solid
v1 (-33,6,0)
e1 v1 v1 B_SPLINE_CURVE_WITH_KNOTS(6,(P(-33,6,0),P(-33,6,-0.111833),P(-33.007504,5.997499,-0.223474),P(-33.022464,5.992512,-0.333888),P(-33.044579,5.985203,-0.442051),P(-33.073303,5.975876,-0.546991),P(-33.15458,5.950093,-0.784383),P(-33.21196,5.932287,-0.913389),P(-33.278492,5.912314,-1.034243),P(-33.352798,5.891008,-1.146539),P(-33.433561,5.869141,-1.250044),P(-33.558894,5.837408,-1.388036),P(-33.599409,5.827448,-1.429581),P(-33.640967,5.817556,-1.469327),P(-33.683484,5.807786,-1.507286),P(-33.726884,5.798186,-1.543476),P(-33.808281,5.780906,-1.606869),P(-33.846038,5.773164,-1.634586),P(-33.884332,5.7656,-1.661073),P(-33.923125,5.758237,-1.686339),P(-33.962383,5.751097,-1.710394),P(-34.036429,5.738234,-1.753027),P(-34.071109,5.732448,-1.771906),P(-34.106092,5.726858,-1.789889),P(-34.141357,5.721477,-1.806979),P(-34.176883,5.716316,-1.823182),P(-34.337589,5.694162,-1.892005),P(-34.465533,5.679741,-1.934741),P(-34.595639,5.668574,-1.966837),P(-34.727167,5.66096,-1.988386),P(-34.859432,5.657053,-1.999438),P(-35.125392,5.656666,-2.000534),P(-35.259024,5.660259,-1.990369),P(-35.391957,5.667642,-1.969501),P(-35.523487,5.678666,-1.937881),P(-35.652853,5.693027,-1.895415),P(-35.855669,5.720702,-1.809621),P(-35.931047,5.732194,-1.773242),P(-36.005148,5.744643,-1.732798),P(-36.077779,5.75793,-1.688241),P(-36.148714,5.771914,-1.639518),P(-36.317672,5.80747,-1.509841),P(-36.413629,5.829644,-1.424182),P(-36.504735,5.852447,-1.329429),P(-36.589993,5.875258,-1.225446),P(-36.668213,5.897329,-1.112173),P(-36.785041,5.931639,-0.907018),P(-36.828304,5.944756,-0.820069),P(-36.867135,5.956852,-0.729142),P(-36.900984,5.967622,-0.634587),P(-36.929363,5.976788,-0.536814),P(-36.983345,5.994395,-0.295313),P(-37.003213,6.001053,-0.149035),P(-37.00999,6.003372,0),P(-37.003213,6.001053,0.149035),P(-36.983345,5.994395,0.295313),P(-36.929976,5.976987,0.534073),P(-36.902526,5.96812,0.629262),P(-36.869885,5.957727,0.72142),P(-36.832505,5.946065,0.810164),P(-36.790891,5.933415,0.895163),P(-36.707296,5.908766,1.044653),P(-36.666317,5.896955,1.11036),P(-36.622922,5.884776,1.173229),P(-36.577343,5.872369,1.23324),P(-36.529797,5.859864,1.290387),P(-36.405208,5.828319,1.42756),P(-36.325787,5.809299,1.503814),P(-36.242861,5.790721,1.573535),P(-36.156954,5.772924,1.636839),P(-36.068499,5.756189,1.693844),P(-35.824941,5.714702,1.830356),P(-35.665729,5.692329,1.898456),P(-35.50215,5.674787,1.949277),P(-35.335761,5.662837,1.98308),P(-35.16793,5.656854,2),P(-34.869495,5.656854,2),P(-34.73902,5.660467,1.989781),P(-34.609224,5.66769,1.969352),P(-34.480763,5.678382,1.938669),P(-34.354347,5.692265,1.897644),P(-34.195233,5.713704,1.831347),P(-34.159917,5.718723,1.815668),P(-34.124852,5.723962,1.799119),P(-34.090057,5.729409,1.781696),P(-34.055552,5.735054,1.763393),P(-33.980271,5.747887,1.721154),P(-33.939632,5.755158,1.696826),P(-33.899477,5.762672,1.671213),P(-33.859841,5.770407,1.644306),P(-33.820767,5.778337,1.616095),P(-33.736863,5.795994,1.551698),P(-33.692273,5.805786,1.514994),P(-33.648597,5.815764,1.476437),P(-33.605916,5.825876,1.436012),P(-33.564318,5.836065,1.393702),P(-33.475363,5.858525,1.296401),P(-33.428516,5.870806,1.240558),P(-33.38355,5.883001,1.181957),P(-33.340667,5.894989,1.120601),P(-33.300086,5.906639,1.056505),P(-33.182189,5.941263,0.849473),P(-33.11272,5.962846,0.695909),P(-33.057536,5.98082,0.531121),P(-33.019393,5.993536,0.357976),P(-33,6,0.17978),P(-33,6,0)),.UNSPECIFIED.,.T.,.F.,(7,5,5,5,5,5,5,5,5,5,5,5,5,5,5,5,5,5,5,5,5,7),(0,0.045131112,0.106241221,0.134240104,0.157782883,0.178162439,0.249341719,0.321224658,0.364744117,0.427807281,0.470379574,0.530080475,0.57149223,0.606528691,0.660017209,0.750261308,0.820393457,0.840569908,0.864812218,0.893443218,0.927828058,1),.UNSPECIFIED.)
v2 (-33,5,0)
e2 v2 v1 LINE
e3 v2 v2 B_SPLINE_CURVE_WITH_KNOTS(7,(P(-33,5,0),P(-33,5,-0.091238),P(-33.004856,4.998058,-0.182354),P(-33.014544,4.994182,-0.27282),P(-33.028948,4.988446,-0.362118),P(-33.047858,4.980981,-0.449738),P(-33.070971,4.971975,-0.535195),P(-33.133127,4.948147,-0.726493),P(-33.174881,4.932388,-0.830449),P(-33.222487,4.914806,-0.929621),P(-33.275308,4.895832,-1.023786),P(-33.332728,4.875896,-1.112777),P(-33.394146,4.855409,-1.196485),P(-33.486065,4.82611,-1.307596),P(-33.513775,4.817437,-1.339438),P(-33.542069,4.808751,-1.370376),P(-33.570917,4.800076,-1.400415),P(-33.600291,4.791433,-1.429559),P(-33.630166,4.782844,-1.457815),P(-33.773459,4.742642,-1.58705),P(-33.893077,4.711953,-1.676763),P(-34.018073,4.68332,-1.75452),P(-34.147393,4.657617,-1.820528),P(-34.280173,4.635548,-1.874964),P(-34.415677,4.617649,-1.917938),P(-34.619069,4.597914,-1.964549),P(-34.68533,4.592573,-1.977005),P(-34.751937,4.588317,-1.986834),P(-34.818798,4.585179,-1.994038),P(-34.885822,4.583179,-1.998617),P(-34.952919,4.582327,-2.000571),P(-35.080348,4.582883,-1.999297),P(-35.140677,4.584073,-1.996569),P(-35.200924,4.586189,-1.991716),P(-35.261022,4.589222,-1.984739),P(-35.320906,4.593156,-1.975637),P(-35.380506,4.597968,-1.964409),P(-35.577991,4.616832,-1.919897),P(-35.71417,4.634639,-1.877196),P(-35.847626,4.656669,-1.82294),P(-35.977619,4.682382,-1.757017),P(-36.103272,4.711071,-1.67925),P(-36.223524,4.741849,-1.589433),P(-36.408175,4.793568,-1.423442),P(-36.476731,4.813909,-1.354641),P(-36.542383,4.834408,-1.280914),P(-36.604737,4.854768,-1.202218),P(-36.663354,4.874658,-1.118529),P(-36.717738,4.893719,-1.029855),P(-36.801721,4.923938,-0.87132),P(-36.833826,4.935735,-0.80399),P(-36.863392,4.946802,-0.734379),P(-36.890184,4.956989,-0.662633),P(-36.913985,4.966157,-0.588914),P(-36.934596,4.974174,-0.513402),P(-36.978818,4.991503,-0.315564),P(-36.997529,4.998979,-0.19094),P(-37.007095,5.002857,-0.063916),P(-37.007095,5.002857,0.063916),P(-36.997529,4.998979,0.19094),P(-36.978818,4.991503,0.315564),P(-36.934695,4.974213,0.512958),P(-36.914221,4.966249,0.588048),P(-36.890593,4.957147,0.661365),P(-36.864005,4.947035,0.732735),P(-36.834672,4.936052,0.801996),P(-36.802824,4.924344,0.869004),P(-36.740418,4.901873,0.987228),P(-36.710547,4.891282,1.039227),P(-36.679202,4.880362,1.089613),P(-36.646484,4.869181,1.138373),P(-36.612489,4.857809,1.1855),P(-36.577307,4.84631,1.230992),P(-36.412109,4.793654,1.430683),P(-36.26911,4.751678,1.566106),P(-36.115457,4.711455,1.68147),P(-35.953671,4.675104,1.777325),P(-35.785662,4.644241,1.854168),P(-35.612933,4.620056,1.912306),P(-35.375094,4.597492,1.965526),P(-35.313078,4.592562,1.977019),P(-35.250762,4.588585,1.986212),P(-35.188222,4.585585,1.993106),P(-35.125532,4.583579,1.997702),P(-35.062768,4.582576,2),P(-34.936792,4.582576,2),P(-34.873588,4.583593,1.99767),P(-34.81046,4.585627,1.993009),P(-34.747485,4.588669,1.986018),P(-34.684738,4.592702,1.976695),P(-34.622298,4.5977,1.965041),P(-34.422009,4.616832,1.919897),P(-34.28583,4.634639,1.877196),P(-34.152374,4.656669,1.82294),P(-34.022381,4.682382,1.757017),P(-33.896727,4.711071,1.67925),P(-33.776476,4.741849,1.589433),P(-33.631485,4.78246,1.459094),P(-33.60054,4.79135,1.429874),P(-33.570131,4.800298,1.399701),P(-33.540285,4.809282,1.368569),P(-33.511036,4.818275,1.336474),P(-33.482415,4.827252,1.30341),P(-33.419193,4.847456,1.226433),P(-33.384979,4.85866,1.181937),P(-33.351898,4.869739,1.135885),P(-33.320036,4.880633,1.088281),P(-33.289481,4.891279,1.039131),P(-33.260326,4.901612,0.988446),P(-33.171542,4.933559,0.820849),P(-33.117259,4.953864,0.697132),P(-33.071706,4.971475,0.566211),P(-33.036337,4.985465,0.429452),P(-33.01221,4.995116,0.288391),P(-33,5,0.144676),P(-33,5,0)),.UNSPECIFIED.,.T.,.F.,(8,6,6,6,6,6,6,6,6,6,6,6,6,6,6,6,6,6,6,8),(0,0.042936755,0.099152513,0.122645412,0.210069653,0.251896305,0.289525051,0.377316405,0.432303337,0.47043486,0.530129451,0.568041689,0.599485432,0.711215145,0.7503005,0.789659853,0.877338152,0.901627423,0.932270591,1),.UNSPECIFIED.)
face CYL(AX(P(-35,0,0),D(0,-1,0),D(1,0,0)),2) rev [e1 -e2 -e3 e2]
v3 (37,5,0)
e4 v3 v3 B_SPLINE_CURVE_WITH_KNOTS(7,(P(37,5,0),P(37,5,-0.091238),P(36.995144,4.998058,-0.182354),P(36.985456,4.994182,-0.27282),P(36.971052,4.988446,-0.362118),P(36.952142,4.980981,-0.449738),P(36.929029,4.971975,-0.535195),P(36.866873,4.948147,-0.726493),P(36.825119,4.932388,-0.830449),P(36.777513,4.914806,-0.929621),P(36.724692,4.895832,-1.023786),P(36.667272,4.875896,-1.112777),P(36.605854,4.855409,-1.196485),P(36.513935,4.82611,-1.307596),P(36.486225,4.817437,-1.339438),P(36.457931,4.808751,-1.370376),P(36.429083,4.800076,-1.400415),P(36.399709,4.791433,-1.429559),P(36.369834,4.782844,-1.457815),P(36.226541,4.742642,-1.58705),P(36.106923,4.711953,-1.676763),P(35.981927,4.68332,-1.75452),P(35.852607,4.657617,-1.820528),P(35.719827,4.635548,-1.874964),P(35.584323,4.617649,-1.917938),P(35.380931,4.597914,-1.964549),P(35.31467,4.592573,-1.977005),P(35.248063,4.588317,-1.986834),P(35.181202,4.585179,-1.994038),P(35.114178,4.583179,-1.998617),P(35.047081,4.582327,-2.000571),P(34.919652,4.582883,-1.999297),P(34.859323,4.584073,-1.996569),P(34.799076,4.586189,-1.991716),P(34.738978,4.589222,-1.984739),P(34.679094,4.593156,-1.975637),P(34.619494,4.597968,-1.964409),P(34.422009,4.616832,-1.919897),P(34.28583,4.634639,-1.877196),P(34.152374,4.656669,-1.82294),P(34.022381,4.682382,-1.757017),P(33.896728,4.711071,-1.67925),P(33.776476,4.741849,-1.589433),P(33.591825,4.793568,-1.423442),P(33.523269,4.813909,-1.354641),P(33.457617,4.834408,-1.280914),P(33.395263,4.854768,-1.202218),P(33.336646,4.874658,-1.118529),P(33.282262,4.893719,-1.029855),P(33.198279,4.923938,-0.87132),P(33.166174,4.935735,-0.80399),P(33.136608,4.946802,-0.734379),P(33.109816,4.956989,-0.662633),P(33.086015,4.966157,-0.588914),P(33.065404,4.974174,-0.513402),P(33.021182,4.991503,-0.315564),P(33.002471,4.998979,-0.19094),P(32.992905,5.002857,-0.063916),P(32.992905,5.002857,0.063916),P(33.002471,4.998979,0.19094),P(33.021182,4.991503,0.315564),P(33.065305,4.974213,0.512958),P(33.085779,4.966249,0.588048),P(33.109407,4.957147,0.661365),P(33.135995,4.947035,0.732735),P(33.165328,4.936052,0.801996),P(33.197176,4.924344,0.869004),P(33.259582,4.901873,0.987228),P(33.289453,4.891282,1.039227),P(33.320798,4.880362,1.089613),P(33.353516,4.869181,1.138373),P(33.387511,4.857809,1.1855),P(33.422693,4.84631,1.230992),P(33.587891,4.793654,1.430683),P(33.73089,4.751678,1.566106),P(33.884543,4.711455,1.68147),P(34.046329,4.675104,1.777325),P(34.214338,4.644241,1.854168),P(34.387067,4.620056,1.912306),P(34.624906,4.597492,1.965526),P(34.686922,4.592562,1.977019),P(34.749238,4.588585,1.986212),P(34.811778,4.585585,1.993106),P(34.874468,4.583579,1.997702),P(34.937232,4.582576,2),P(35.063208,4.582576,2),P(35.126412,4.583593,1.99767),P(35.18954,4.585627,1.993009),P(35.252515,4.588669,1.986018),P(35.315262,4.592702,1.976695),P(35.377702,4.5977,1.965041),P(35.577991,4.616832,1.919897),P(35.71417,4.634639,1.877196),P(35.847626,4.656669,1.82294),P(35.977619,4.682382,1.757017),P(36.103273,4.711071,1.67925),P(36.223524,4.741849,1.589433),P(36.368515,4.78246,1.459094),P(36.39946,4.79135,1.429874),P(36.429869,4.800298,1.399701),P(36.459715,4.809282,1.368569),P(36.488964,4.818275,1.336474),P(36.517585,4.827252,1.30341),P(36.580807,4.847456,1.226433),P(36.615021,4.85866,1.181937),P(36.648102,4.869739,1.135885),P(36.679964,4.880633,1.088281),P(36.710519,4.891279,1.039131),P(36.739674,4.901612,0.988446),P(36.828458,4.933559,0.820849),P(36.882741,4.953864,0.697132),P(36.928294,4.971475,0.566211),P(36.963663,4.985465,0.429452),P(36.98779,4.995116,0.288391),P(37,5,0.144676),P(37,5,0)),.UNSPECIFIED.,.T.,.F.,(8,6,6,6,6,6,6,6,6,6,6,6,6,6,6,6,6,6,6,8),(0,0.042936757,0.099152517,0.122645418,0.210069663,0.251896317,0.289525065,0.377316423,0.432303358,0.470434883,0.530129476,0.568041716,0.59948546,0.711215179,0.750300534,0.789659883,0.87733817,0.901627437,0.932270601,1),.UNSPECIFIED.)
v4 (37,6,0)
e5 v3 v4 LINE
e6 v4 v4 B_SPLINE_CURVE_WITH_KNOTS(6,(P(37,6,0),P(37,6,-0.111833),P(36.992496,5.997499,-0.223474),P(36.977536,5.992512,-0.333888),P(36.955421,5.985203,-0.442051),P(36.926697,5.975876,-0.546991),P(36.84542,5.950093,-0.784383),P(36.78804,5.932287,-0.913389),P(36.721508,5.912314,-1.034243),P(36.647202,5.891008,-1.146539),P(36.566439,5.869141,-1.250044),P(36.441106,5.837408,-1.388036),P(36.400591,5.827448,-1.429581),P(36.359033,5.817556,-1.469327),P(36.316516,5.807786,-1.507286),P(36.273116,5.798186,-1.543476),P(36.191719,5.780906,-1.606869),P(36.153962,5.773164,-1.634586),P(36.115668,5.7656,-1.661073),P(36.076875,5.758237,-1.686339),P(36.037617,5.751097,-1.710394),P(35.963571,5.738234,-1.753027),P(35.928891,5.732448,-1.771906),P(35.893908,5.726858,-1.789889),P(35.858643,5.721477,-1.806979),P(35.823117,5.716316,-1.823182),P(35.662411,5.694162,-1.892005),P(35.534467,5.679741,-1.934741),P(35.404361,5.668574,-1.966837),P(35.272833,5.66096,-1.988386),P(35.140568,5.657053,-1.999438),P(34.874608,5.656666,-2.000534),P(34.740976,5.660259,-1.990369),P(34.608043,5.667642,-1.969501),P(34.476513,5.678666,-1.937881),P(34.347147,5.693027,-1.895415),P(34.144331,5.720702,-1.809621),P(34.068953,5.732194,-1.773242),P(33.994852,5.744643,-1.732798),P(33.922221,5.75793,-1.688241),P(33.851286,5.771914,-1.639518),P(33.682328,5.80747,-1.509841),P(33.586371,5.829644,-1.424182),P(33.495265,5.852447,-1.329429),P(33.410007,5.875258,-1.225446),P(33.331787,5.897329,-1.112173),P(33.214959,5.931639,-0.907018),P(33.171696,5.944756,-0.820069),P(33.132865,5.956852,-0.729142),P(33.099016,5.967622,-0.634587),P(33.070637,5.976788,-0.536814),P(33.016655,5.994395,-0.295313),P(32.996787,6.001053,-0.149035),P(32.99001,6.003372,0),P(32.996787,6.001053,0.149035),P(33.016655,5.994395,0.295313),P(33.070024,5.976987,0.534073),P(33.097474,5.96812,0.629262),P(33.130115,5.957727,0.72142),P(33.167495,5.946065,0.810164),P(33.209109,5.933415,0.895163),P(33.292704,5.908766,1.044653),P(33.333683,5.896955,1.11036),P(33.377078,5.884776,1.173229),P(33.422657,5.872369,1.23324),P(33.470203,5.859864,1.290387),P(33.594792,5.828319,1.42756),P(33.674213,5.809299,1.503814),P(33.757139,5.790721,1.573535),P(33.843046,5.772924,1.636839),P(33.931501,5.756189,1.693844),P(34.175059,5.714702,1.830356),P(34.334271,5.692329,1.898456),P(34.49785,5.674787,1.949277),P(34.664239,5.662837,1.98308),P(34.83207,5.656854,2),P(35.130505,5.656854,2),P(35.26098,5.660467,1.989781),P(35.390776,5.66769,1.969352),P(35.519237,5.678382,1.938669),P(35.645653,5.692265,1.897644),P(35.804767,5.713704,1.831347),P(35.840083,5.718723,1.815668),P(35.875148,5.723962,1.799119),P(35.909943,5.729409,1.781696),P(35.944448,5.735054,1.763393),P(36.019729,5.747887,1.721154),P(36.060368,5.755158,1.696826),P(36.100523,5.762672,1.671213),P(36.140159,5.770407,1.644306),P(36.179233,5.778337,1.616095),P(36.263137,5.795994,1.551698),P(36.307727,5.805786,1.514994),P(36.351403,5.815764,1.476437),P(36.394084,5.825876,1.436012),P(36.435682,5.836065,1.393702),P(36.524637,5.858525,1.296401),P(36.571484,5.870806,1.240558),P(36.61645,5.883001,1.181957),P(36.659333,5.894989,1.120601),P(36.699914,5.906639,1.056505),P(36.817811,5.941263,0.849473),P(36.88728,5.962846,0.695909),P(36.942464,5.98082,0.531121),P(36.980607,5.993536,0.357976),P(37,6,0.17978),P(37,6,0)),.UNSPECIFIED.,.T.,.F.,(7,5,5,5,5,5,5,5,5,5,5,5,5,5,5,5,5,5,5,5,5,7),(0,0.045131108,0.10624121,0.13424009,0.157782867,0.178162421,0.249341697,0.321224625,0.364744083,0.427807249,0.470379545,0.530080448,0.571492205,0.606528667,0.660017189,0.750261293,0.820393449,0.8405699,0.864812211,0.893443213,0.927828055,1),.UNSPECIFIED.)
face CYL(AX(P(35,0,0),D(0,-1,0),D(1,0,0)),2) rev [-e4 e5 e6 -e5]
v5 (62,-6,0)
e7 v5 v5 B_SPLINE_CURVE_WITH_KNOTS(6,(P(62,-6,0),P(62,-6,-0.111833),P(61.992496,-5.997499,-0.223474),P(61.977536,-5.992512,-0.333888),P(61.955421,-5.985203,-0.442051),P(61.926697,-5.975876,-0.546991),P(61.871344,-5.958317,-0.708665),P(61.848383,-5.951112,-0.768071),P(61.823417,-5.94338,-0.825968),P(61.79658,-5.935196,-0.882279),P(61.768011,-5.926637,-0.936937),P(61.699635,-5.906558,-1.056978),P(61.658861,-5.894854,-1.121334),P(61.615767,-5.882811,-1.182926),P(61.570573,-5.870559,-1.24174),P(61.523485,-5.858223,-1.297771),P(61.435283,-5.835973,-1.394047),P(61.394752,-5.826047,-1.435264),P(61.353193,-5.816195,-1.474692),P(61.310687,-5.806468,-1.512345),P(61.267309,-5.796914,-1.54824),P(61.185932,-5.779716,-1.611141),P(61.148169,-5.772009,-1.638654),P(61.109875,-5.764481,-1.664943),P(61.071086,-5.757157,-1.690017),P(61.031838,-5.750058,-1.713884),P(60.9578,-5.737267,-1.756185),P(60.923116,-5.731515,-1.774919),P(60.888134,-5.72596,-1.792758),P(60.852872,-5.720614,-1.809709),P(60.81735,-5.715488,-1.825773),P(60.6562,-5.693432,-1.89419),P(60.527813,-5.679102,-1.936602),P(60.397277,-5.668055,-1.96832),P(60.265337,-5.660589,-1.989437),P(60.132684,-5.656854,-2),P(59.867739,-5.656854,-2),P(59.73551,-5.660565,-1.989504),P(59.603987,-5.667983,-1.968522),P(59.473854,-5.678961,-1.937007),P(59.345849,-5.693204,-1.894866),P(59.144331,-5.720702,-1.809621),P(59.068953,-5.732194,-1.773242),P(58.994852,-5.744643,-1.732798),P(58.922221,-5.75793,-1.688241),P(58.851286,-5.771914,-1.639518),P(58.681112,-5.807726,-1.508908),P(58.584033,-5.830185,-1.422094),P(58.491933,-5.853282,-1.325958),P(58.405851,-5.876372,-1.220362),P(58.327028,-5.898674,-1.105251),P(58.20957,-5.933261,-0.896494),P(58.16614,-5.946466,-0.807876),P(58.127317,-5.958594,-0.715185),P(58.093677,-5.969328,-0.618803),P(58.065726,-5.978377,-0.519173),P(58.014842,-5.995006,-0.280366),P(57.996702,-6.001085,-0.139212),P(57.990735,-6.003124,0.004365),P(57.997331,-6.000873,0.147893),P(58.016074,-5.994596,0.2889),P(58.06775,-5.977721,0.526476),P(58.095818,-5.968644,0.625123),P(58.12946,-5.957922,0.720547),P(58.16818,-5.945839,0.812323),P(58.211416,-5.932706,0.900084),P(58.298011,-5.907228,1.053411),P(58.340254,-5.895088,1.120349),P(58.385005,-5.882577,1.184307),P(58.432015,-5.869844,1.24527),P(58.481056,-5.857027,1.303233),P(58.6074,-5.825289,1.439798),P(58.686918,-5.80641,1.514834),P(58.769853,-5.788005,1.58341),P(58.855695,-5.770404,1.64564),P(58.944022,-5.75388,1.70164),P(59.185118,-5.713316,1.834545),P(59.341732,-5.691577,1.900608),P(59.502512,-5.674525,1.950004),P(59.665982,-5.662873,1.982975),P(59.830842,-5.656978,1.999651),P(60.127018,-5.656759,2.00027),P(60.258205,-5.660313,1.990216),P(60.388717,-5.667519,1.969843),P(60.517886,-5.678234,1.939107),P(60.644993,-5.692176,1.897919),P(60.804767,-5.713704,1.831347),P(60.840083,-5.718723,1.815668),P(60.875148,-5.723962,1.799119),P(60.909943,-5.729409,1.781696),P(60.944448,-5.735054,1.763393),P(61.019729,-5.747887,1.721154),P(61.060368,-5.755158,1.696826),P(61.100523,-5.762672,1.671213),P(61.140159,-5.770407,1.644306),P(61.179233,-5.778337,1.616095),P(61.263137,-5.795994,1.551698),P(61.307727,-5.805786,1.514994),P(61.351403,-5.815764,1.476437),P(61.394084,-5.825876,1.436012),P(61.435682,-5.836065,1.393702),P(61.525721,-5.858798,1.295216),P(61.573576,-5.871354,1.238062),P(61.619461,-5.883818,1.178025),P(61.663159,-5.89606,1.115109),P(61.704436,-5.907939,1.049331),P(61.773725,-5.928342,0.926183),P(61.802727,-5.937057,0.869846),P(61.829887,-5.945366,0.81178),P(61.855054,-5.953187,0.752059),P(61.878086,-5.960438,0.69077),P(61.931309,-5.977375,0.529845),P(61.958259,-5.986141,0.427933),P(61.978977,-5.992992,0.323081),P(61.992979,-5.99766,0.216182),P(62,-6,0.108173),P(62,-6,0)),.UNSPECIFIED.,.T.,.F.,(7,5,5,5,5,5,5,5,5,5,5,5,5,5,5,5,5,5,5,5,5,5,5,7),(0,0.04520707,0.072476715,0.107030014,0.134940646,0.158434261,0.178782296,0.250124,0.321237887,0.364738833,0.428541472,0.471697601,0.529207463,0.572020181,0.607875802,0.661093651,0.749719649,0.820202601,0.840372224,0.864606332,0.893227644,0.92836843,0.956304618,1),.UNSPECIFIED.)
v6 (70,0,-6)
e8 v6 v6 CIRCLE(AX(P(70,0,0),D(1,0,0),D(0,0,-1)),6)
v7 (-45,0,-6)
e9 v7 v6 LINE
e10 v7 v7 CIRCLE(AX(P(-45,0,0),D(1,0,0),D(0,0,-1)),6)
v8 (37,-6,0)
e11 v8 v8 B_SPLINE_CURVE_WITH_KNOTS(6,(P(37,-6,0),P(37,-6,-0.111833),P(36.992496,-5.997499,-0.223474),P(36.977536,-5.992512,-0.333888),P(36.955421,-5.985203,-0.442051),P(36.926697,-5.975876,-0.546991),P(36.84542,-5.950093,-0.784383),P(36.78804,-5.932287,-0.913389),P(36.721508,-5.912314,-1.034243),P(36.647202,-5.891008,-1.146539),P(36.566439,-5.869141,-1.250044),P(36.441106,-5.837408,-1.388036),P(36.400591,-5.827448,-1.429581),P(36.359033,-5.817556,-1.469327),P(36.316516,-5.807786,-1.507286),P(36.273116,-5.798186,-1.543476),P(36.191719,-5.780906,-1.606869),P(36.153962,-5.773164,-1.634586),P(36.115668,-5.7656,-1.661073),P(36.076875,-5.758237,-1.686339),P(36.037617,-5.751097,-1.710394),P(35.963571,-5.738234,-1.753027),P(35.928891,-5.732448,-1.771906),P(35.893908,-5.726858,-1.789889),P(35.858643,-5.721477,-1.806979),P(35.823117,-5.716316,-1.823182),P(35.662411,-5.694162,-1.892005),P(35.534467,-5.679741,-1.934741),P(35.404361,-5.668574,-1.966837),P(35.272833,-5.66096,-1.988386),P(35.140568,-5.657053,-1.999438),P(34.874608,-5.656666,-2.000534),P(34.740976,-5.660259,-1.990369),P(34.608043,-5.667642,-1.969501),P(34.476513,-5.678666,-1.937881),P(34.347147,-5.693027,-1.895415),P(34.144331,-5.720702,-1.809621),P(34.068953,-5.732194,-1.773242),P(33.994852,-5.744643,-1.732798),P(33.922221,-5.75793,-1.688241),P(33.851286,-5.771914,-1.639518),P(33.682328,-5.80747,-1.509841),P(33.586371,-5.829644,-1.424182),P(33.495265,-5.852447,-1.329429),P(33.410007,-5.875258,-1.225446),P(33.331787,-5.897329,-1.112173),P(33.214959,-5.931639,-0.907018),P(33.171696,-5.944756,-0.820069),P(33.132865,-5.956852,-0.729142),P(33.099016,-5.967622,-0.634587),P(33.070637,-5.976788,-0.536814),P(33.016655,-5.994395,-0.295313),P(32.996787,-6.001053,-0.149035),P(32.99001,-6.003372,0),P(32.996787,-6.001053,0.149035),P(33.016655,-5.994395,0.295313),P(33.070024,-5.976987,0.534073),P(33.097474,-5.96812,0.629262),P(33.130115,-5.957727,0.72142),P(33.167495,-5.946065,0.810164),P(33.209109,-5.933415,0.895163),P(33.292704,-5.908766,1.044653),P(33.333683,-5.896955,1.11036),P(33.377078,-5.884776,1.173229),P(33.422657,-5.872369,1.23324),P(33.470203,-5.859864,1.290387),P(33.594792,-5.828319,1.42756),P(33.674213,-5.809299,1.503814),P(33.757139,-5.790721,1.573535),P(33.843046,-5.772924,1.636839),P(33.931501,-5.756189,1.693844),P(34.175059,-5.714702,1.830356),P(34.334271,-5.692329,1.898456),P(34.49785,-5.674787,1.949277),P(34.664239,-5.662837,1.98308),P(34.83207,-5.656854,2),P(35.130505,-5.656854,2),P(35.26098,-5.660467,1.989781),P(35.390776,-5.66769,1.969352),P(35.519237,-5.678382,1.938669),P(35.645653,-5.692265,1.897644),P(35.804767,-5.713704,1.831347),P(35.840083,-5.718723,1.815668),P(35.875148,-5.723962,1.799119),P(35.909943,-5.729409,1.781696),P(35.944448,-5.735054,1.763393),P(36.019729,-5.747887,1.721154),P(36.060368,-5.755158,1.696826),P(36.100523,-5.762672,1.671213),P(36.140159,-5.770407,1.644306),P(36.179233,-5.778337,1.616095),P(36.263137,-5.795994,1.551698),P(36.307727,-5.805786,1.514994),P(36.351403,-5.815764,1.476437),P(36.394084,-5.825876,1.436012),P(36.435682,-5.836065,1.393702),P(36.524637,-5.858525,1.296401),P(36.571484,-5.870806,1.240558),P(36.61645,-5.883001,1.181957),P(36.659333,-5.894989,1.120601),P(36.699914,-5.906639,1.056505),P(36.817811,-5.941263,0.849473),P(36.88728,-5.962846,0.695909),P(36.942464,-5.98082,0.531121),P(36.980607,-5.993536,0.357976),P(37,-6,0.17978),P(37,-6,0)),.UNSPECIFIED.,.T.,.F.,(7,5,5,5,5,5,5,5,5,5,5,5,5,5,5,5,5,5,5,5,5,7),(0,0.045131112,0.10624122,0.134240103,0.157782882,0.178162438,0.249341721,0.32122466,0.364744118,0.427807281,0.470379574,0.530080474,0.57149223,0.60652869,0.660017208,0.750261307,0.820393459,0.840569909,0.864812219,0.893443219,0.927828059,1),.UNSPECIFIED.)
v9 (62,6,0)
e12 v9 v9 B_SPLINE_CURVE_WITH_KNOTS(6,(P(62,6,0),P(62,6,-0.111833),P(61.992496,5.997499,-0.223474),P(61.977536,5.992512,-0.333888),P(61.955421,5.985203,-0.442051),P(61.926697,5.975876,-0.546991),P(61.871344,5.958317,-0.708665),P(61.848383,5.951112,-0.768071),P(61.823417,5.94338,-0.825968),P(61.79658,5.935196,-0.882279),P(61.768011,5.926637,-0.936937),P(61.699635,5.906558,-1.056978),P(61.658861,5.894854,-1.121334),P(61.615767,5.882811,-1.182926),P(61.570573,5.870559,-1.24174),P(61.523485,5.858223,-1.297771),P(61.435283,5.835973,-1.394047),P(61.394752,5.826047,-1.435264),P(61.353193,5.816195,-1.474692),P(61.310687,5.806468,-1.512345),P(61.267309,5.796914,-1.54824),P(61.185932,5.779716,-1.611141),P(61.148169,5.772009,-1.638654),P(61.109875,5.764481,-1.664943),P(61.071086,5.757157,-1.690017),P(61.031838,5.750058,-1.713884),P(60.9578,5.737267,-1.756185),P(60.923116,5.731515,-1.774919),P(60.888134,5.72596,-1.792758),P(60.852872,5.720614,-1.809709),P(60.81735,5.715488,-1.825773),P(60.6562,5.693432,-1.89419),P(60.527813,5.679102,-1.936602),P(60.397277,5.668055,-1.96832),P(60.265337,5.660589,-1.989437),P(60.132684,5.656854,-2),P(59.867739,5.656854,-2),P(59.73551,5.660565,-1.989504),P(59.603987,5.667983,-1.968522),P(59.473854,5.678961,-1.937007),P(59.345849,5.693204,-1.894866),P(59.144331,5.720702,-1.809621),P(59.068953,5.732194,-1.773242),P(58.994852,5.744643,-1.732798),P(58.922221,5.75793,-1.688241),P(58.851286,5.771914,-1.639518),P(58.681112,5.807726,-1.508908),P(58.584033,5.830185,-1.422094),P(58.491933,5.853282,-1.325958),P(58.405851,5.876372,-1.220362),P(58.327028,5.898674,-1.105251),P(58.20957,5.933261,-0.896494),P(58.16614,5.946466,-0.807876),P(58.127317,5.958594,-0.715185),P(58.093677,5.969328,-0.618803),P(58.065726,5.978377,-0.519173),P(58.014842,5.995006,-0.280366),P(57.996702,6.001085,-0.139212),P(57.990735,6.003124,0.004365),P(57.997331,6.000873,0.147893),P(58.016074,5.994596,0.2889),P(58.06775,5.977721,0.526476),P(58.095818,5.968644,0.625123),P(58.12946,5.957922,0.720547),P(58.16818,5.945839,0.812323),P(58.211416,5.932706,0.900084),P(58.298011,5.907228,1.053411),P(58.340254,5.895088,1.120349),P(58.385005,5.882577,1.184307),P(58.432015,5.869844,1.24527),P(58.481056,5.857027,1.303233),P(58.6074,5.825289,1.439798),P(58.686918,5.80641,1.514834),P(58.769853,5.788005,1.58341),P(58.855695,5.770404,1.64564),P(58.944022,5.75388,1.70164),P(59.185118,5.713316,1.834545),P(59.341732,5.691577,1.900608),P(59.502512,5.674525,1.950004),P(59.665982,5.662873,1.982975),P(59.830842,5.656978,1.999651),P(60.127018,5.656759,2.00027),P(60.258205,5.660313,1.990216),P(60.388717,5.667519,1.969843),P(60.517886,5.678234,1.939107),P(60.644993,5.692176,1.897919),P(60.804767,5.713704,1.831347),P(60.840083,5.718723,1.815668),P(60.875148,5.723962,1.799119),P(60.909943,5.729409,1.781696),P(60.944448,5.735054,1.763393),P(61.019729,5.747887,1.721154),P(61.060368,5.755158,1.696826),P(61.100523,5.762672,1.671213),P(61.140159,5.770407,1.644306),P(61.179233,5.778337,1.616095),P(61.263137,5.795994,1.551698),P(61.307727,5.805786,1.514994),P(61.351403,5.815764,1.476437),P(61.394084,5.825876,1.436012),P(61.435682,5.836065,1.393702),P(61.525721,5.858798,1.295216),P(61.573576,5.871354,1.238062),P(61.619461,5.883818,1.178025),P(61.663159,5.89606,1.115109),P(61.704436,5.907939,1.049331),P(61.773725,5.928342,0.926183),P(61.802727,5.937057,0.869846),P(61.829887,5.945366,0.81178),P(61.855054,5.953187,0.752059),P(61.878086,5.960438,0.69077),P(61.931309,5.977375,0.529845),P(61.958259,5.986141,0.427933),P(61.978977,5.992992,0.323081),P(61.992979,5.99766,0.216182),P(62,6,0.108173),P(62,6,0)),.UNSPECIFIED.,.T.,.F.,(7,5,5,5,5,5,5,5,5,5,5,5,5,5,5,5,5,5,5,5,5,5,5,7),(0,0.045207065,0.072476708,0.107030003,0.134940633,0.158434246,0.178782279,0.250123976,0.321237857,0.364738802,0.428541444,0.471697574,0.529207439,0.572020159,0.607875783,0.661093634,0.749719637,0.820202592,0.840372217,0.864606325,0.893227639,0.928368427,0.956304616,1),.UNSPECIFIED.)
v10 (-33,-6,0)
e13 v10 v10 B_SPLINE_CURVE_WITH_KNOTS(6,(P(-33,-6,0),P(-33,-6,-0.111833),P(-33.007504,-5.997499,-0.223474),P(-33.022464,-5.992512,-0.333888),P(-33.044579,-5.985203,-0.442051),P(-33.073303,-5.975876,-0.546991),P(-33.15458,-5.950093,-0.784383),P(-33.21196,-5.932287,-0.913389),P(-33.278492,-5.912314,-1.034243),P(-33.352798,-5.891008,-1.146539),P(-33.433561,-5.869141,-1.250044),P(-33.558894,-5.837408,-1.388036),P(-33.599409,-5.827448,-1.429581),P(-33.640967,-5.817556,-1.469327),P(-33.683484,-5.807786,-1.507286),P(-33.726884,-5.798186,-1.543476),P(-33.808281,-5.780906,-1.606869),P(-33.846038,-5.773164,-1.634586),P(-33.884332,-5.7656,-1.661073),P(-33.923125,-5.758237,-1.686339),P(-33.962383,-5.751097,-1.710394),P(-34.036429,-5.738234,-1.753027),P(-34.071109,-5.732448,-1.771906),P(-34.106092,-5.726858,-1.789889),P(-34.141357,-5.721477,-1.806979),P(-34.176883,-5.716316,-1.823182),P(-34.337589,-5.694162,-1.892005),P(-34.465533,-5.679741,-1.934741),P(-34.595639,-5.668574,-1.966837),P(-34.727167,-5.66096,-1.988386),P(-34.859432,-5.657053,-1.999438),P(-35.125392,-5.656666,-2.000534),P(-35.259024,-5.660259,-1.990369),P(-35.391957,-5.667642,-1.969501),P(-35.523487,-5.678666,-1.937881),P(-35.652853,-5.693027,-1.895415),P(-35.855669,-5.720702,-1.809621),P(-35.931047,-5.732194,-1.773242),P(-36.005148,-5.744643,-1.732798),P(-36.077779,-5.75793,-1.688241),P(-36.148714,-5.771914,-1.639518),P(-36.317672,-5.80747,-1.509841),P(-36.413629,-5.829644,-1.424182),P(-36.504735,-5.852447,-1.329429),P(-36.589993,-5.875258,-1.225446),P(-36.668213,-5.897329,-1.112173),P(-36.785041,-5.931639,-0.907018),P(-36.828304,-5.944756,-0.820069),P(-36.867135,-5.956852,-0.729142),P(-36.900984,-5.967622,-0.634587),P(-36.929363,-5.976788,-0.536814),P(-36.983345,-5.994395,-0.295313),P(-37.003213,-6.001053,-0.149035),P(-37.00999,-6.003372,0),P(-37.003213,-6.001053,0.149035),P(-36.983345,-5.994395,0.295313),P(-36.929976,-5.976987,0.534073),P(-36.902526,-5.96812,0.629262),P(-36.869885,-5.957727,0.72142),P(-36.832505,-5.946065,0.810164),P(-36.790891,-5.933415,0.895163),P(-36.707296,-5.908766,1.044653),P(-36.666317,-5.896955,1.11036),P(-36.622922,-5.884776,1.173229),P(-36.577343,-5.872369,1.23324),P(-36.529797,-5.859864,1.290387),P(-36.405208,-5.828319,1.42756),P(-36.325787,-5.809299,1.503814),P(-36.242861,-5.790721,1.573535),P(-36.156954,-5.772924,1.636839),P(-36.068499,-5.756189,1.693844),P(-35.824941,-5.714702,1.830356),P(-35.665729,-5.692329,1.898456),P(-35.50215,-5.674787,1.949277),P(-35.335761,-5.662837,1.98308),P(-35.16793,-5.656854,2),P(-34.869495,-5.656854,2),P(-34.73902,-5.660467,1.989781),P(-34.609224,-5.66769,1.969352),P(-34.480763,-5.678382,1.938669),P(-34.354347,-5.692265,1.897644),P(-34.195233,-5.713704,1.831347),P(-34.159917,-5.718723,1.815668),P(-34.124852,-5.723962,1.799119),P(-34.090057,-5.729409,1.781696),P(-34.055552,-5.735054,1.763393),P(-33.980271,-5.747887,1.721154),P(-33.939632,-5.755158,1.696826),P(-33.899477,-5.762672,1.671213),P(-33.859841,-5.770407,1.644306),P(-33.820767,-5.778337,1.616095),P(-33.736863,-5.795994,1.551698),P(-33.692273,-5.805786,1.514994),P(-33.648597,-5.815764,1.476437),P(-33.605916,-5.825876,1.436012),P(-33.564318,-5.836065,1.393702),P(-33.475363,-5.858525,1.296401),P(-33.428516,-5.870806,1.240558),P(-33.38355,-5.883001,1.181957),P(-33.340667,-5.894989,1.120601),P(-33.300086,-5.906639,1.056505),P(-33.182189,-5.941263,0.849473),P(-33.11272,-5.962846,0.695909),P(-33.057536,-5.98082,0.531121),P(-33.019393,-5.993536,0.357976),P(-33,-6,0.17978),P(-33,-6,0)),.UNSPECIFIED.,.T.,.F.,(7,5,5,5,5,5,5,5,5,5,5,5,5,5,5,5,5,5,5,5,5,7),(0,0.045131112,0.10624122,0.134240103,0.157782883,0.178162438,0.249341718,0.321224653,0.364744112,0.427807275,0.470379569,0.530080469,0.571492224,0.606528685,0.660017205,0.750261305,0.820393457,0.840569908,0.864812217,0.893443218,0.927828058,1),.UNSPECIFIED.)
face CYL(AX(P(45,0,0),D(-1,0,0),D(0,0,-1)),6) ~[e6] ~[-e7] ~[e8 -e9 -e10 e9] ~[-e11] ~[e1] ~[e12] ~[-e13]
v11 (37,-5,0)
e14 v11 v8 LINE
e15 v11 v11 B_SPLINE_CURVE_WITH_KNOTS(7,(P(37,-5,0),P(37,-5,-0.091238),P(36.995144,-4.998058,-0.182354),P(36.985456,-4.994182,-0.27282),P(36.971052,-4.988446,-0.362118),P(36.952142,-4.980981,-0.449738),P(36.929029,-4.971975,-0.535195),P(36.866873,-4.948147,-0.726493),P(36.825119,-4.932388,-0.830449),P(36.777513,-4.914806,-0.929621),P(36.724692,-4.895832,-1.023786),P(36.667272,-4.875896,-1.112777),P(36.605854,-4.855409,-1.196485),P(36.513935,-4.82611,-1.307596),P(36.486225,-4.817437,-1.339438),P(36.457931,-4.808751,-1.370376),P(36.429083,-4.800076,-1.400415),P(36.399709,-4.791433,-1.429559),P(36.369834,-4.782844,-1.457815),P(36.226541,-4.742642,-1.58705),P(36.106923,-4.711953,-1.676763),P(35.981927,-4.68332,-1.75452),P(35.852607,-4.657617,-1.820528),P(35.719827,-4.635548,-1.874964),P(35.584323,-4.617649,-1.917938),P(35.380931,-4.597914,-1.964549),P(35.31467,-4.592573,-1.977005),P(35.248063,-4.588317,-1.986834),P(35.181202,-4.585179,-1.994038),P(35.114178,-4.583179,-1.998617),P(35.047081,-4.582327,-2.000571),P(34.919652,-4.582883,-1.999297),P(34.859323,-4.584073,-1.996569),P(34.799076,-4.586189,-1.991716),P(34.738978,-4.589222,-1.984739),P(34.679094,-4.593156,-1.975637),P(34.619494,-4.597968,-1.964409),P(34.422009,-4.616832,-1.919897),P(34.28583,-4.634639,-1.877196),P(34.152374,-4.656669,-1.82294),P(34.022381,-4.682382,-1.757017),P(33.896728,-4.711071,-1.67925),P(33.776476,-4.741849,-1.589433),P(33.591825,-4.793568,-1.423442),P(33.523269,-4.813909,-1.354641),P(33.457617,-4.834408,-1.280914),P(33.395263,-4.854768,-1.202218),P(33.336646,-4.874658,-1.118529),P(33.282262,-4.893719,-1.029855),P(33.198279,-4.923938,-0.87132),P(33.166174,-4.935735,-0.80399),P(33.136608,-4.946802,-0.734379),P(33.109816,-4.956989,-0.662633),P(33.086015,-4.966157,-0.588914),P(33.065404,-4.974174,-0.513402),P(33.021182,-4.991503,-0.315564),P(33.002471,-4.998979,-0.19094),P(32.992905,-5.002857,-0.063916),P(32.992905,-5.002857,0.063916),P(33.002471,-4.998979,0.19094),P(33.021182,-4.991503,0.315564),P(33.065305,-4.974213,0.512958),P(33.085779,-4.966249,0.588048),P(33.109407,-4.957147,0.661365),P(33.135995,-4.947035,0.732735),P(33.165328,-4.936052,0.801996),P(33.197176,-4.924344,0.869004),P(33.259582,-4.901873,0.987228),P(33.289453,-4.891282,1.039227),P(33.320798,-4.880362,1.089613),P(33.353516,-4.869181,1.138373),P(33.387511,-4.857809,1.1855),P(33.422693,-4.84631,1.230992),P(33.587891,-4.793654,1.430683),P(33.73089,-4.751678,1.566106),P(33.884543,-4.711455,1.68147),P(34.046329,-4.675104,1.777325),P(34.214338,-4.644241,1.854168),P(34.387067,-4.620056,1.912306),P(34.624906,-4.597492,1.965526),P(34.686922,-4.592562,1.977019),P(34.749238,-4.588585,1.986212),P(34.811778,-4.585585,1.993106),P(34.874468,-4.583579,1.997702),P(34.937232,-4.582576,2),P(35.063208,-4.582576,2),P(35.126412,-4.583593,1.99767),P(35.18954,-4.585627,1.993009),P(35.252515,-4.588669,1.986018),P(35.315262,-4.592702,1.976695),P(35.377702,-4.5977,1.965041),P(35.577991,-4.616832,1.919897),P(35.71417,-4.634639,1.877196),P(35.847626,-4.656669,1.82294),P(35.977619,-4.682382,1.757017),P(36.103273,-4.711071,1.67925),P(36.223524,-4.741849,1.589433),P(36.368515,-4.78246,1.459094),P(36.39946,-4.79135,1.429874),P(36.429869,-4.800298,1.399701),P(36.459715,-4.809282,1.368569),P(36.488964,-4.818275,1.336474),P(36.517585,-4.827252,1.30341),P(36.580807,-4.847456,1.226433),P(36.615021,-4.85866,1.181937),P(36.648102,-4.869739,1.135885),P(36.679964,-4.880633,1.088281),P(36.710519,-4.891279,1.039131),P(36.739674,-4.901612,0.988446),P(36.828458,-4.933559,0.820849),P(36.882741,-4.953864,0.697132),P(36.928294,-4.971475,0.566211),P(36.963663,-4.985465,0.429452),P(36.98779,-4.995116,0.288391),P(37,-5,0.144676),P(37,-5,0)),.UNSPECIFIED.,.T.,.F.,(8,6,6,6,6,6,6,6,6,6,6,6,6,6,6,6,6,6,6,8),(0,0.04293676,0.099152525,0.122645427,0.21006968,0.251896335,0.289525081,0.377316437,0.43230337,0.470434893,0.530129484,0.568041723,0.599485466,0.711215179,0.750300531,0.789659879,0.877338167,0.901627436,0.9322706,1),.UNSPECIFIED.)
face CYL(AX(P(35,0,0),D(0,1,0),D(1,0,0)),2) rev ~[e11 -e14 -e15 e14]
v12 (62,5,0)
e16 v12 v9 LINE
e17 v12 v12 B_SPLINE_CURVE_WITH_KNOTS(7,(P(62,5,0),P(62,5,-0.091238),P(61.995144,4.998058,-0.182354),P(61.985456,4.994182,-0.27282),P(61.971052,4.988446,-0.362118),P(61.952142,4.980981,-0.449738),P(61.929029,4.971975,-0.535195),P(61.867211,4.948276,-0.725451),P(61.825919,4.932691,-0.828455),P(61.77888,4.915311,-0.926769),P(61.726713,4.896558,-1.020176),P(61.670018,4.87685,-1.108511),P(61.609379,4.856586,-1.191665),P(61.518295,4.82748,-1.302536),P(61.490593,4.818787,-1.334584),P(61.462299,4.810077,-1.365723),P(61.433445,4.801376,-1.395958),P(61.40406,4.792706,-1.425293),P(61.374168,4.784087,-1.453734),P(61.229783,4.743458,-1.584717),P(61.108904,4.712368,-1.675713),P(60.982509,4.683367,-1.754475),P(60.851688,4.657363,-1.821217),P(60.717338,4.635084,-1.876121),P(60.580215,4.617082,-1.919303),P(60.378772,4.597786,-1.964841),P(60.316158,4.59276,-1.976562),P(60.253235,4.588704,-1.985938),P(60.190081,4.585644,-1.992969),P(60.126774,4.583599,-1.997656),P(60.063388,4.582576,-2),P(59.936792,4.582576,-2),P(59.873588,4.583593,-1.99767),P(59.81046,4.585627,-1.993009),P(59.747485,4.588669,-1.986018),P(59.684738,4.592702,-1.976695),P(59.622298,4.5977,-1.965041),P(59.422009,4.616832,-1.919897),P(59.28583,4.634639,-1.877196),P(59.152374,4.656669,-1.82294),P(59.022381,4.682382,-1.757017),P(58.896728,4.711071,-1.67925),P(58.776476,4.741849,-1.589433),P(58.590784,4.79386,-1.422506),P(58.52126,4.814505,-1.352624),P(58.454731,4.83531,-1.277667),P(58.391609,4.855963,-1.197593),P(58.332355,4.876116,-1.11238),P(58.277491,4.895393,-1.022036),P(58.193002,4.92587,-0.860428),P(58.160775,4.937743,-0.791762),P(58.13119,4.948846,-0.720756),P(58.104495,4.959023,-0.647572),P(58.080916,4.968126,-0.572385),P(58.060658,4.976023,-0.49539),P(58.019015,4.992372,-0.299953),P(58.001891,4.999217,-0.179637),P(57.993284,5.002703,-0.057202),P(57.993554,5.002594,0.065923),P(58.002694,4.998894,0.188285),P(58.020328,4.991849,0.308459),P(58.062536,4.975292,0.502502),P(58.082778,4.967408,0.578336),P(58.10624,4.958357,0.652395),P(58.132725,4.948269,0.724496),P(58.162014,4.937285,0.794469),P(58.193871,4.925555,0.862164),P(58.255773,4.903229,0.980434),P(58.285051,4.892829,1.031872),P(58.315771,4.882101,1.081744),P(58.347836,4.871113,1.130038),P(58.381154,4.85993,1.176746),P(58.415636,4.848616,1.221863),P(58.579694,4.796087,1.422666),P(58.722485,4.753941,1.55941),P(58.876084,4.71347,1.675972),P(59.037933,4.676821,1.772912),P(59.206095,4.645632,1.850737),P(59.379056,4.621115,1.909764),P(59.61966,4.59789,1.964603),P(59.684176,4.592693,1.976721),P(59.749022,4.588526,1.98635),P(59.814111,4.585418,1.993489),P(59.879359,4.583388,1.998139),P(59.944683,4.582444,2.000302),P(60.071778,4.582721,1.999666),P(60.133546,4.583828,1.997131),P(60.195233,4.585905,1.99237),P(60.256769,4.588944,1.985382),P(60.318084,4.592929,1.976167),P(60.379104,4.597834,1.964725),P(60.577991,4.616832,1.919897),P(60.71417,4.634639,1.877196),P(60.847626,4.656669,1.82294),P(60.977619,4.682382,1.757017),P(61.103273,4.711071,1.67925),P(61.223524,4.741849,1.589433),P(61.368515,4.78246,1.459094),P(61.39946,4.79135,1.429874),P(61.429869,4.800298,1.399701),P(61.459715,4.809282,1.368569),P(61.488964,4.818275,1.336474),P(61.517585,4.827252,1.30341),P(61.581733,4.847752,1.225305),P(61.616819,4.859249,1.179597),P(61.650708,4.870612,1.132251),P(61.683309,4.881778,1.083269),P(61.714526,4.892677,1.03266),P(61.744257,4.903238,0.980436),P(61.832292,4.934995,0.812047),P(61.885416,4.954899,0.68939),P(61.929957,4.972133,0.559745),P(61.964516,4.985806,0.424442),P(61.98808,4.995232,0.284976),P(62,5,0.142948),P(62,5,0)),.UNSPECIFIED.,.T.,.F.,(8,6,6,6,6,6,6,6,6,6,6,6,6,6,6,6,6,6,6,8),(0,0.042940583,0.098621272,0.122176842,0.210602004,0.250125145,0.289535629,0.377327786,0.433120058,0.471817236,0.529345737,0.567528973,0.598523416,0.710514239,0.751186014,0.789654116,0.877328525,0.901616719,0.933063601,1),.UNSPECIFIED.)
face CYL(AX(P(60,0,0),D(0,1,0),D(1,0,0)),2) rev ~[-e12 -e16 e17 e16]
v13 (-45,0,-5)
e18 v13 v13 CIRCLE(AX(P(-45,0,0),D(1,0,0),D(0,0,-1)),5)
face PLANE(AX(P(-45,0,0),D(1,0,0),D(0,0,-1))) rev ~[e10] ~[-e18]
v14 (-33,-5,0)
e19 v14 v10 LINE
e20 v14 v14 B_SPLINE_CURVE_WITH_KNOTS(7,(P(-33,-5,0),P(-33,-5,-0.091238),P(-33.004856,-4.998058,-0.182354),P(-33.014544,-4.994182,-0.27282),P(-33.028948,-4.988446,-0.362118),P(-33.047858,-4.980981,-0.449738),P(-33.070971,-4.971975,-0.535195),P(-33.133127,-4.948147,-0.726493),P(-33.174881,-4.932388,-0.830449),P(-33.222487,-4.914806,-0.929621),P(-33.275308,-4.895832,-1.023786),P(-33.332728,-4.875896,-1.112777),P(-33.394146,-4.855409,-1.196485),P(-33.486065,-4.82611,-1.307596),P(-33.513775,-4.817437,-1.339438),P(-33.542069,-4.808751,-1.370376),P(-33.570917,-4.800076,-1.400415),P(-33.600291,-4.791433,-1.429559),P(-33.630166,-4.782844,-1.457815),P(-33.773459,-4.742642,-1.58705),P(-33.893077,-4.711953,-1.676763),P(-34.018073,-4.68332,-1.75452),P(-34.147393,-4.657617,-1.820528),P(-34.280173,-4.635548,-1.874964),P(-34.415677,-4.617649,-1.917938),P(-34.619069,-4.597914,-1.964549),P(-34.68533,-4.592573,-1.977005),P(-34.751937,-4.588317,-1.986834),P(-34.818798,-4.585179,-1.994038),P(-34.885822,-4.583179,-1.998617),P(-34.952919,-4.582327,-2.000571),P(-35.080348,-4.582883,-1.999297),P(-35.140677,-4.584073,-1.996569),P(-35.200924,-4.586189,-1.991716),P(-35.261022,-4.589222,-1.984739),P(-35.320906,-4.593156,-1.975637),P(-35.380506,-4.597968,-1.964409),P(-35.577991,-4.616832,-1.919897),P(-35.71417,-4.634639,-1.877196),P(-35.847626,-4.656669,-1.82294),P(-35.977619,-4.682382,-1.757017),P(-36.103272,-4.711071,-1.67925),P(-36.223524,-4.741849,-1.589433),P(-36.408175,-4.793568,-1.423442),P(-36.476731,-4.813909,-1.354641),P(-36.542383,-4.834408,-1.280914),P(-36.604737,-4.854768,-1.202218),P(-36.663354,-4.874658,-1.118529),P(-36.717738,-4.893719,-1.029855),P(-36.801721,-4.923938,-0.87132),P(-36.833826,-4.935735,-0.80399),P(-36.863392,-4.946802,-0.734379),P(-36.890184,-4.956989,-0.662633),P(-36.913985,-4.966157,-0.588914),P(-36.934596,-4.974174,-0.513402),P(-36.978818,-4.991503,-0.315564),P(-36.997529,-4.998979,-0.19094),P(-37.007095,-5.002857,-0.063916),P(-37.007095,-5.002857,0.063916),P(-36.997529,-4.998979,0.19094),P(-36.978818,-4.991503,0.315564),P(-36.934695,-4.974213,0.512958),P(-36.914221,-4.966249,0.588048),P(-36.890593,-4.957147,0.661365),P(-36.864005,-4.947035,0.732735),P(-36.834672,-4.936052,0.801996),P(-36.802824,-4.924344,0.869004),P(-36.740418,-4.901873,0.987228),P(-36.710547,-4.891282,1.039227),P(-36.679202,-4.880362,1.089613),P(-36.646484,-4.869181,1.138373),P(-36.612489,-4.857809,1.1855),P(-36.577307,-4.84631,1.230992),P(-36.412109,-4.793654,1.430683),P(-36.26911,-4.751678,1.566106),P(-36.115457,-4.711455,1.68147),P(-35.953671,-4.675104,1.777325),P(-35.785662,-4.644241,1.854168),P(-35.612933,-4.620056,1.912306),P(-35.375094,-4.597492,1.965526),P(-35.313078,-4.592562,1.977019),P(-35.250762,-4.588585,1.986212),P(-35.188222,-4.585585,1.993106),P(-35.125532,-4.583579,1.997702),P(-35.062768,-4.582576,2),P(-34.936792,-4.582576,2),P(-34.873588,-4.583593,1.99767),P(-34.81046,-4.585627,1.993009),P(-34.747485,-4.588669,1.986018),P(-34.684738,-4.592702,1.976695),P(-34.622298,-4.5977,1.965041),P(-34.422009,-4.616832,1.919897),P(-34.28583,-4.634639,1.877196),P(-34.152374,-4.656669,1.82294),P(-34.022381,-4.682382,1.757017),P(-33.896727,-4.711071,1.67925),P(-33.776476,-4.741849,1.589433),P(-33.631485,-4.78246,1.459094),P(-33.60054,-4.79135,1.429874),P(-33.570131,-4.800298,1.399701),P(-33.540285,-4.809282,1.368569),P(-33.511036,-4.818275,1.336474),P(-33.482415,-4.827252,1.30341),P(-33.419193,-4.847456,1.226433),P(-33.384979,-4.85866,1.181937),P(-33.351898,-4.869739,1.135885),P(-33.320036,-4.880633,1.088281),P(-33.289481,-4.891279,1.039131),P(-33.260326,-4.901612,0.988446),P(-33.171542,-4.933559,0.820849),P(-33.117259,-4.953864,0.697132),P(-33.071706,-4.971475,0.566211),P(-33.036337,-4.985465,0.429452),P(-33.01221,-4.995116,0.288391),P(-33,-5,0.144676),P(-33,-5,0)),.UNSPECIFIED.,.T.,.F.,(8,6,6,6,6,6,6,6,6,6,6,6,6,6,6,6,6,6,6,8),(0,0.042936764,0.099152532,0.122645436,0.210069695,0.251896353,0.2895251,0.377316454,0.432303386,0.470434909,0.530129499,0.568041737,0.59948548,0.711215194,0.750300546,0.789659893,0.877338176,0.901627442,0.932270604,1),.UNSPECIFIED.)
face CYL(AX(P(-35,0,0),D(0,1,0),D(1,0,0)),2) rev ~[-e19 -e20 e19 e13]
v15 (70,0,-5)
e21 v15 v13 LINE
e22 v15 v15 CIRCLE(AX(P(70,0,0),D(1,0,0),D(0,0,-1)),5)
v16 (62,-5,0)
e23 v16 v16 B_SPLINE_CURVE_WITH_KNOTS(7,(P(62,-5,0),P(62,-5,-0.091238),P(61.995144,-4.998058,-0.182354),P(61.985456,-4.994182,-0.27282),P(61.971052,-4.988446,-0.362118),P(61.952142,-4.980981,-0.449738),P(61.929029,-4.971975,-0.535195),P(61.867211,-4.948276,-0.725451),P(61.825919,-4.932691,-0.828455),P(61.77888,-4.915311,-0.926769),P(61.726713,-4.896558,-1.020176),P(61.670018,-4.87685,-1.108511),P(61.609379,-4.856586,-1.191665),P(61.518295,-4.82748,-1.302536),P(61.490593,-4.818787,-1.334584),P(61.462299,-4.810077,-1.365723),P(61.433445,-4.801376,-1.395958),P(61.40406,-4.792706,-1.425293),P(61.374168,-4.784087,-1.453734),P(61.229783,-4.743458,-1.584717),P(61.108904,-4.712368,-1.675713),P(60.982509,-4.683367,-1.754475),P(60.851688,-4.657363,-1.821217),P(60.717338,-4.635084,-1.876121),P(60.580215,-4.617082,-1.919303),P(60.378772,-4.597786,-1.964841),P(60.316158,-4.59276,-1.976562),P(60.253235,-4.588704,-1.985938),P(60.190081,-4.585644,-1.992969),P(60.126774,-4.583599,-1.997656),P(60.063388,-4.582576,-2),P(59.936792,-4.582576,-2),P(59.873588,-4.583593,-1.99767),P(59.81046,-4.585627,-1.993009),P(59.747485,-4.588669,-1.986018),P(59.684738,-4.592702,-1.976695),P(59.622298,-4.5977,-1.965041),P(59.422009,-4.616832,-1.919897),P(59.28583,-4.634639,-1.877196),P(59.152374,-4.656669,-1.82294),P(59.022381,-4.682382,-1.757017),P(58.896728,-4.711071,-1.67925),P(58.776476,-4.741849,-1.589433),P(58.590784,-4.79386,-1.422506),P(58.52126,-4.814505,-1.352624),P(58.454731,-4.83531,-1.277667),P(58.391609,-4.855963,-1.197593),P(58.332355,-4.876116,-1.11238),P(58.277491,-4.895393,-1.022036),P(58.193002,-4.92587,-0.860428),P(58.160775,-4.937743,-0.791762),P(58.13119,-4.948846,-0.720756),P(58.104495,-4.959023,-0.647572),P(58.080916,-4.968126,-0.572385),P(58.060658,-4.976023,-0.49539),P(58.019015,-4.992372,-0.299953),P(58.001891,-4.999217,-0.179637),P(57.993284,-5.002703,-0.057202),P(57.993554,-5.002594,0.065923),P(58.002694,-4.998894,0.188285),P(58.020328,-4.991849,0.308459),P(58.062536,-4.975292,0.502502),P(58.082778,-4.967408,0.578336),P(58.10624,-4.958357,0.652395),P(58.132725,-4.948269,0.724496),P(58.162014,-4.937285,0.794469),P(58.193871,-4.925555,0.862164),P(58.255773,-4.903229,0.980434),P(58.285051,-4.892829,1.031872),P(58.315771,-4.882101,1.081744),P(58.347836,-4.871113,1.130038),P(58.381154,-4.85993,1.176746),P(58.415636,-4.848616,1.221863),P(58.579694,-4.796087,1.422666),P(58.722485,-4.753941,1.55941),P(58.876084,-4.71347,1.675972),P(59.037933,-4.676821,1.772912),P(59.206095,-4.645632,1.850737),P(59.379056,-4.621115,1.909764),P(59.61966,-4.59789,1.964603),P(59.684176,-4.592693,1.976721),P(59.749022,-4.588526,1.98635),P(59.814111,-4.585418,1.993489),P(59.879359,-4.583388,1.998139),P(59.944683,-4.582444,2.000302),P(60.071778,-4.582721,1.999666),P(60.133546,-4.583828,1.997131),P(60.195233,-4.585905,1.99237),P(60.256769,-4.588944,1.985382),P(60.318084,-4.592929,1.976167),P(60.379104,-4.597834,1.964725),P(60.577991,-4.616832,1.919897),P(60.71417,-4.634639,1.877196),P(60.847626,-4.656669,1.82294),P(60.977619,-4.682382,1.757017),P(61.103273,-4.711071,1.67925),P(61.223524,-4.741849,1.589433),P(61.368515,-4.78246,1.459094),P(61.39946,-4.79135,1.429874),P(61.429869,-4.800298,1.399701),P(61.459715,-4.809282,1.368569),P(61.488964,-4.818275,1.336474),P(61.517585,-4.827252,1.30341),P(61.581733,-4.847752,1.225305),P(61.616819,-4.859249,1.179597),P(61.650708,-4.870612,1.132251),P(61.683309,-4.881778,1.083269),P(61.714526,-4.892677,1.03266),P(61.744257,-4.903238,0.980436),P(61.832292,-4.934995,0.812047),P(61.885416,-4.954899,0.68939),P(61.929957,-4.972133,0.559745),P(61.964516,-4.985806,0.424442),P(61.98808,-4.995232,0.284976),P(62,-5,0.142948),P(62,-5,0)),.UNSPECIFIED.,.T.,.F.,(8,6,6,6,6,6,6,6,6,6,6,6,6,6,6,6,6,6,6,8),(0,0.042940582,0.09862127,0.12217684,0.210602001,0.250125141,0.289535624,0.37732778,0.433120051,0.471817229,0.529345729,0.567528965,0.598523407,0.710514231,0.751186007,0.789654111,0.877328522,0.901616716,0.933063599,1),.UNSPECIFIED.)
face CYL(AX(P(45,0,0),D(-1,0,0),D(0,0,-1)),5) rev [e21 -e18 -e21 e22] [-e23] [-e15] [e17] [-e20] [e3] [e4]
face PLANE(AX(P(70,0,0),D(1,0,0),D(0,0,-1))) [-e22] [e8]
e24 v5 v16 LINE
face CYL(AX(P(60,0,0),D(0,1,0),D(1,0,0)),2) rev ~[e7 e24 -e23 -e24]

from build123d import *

# Parameters (mm, degrees)
SKETCH1_R           = 6
SKETCH1_R_2         = 5
BOSS_EXTRUDE1_DEPTH = 45
SKETCH3_R           = 6
SKETCH3_R_2         = 5
BOSS_EXTRUDE2_DEPTH = 25
SKETCH2_R           = 2
CUT_EXTRUDE1_DEPTH  = 10


with BuildPart() as part:
    # Sketch1 → Boss-Extrude1 (new body, symmetric)
    with BuildSketch(Plane(origin=(0, 0, 0), x_dir=(0, 0, -1), z_dir=(1, 0, 0))):
        Circle(SKETCH1_R)
        Circle(SKETCH1_R_2, mode=Mode.SUBTRACT)
    extrude(amount=BOSS_EXTRUDE1_DEPTH, both=True)

    # Sketch3 → Boss-Extrude2 (add)
    with BuildSketch(Plane(origin=(45, 0, 0), x_dir=(0, 0, -1), z_dir=(1, 0, 0))):
        Circle(SKETCH3_R)
        Circle(SKETCH3_R_2, mode=Mode.SUBTRACT)
    extrude(amount=BOSS_EXTRUDE2_DEPTH)

    # Sketch2 → Cut-Extrude1 (cut, symmetric)
    with BuildSketch(Plane(origin=(0, 0, 0), x_dir=(1, 0, 0), z_dir=(0, 1, 0))):
        with Locations((-35, 0)):
            Circle(SKETCH2_R)
        with Locations((35, 0)):
            Circle(SKETCH2_R)
        with Locations((60, 0)):
            Circle(SKETCH2_R)
    extrude(amount=CUT_EXTRUDE1_DEPTH, both=True, mode=Mode.SUBTRACT)


solid = part.part
